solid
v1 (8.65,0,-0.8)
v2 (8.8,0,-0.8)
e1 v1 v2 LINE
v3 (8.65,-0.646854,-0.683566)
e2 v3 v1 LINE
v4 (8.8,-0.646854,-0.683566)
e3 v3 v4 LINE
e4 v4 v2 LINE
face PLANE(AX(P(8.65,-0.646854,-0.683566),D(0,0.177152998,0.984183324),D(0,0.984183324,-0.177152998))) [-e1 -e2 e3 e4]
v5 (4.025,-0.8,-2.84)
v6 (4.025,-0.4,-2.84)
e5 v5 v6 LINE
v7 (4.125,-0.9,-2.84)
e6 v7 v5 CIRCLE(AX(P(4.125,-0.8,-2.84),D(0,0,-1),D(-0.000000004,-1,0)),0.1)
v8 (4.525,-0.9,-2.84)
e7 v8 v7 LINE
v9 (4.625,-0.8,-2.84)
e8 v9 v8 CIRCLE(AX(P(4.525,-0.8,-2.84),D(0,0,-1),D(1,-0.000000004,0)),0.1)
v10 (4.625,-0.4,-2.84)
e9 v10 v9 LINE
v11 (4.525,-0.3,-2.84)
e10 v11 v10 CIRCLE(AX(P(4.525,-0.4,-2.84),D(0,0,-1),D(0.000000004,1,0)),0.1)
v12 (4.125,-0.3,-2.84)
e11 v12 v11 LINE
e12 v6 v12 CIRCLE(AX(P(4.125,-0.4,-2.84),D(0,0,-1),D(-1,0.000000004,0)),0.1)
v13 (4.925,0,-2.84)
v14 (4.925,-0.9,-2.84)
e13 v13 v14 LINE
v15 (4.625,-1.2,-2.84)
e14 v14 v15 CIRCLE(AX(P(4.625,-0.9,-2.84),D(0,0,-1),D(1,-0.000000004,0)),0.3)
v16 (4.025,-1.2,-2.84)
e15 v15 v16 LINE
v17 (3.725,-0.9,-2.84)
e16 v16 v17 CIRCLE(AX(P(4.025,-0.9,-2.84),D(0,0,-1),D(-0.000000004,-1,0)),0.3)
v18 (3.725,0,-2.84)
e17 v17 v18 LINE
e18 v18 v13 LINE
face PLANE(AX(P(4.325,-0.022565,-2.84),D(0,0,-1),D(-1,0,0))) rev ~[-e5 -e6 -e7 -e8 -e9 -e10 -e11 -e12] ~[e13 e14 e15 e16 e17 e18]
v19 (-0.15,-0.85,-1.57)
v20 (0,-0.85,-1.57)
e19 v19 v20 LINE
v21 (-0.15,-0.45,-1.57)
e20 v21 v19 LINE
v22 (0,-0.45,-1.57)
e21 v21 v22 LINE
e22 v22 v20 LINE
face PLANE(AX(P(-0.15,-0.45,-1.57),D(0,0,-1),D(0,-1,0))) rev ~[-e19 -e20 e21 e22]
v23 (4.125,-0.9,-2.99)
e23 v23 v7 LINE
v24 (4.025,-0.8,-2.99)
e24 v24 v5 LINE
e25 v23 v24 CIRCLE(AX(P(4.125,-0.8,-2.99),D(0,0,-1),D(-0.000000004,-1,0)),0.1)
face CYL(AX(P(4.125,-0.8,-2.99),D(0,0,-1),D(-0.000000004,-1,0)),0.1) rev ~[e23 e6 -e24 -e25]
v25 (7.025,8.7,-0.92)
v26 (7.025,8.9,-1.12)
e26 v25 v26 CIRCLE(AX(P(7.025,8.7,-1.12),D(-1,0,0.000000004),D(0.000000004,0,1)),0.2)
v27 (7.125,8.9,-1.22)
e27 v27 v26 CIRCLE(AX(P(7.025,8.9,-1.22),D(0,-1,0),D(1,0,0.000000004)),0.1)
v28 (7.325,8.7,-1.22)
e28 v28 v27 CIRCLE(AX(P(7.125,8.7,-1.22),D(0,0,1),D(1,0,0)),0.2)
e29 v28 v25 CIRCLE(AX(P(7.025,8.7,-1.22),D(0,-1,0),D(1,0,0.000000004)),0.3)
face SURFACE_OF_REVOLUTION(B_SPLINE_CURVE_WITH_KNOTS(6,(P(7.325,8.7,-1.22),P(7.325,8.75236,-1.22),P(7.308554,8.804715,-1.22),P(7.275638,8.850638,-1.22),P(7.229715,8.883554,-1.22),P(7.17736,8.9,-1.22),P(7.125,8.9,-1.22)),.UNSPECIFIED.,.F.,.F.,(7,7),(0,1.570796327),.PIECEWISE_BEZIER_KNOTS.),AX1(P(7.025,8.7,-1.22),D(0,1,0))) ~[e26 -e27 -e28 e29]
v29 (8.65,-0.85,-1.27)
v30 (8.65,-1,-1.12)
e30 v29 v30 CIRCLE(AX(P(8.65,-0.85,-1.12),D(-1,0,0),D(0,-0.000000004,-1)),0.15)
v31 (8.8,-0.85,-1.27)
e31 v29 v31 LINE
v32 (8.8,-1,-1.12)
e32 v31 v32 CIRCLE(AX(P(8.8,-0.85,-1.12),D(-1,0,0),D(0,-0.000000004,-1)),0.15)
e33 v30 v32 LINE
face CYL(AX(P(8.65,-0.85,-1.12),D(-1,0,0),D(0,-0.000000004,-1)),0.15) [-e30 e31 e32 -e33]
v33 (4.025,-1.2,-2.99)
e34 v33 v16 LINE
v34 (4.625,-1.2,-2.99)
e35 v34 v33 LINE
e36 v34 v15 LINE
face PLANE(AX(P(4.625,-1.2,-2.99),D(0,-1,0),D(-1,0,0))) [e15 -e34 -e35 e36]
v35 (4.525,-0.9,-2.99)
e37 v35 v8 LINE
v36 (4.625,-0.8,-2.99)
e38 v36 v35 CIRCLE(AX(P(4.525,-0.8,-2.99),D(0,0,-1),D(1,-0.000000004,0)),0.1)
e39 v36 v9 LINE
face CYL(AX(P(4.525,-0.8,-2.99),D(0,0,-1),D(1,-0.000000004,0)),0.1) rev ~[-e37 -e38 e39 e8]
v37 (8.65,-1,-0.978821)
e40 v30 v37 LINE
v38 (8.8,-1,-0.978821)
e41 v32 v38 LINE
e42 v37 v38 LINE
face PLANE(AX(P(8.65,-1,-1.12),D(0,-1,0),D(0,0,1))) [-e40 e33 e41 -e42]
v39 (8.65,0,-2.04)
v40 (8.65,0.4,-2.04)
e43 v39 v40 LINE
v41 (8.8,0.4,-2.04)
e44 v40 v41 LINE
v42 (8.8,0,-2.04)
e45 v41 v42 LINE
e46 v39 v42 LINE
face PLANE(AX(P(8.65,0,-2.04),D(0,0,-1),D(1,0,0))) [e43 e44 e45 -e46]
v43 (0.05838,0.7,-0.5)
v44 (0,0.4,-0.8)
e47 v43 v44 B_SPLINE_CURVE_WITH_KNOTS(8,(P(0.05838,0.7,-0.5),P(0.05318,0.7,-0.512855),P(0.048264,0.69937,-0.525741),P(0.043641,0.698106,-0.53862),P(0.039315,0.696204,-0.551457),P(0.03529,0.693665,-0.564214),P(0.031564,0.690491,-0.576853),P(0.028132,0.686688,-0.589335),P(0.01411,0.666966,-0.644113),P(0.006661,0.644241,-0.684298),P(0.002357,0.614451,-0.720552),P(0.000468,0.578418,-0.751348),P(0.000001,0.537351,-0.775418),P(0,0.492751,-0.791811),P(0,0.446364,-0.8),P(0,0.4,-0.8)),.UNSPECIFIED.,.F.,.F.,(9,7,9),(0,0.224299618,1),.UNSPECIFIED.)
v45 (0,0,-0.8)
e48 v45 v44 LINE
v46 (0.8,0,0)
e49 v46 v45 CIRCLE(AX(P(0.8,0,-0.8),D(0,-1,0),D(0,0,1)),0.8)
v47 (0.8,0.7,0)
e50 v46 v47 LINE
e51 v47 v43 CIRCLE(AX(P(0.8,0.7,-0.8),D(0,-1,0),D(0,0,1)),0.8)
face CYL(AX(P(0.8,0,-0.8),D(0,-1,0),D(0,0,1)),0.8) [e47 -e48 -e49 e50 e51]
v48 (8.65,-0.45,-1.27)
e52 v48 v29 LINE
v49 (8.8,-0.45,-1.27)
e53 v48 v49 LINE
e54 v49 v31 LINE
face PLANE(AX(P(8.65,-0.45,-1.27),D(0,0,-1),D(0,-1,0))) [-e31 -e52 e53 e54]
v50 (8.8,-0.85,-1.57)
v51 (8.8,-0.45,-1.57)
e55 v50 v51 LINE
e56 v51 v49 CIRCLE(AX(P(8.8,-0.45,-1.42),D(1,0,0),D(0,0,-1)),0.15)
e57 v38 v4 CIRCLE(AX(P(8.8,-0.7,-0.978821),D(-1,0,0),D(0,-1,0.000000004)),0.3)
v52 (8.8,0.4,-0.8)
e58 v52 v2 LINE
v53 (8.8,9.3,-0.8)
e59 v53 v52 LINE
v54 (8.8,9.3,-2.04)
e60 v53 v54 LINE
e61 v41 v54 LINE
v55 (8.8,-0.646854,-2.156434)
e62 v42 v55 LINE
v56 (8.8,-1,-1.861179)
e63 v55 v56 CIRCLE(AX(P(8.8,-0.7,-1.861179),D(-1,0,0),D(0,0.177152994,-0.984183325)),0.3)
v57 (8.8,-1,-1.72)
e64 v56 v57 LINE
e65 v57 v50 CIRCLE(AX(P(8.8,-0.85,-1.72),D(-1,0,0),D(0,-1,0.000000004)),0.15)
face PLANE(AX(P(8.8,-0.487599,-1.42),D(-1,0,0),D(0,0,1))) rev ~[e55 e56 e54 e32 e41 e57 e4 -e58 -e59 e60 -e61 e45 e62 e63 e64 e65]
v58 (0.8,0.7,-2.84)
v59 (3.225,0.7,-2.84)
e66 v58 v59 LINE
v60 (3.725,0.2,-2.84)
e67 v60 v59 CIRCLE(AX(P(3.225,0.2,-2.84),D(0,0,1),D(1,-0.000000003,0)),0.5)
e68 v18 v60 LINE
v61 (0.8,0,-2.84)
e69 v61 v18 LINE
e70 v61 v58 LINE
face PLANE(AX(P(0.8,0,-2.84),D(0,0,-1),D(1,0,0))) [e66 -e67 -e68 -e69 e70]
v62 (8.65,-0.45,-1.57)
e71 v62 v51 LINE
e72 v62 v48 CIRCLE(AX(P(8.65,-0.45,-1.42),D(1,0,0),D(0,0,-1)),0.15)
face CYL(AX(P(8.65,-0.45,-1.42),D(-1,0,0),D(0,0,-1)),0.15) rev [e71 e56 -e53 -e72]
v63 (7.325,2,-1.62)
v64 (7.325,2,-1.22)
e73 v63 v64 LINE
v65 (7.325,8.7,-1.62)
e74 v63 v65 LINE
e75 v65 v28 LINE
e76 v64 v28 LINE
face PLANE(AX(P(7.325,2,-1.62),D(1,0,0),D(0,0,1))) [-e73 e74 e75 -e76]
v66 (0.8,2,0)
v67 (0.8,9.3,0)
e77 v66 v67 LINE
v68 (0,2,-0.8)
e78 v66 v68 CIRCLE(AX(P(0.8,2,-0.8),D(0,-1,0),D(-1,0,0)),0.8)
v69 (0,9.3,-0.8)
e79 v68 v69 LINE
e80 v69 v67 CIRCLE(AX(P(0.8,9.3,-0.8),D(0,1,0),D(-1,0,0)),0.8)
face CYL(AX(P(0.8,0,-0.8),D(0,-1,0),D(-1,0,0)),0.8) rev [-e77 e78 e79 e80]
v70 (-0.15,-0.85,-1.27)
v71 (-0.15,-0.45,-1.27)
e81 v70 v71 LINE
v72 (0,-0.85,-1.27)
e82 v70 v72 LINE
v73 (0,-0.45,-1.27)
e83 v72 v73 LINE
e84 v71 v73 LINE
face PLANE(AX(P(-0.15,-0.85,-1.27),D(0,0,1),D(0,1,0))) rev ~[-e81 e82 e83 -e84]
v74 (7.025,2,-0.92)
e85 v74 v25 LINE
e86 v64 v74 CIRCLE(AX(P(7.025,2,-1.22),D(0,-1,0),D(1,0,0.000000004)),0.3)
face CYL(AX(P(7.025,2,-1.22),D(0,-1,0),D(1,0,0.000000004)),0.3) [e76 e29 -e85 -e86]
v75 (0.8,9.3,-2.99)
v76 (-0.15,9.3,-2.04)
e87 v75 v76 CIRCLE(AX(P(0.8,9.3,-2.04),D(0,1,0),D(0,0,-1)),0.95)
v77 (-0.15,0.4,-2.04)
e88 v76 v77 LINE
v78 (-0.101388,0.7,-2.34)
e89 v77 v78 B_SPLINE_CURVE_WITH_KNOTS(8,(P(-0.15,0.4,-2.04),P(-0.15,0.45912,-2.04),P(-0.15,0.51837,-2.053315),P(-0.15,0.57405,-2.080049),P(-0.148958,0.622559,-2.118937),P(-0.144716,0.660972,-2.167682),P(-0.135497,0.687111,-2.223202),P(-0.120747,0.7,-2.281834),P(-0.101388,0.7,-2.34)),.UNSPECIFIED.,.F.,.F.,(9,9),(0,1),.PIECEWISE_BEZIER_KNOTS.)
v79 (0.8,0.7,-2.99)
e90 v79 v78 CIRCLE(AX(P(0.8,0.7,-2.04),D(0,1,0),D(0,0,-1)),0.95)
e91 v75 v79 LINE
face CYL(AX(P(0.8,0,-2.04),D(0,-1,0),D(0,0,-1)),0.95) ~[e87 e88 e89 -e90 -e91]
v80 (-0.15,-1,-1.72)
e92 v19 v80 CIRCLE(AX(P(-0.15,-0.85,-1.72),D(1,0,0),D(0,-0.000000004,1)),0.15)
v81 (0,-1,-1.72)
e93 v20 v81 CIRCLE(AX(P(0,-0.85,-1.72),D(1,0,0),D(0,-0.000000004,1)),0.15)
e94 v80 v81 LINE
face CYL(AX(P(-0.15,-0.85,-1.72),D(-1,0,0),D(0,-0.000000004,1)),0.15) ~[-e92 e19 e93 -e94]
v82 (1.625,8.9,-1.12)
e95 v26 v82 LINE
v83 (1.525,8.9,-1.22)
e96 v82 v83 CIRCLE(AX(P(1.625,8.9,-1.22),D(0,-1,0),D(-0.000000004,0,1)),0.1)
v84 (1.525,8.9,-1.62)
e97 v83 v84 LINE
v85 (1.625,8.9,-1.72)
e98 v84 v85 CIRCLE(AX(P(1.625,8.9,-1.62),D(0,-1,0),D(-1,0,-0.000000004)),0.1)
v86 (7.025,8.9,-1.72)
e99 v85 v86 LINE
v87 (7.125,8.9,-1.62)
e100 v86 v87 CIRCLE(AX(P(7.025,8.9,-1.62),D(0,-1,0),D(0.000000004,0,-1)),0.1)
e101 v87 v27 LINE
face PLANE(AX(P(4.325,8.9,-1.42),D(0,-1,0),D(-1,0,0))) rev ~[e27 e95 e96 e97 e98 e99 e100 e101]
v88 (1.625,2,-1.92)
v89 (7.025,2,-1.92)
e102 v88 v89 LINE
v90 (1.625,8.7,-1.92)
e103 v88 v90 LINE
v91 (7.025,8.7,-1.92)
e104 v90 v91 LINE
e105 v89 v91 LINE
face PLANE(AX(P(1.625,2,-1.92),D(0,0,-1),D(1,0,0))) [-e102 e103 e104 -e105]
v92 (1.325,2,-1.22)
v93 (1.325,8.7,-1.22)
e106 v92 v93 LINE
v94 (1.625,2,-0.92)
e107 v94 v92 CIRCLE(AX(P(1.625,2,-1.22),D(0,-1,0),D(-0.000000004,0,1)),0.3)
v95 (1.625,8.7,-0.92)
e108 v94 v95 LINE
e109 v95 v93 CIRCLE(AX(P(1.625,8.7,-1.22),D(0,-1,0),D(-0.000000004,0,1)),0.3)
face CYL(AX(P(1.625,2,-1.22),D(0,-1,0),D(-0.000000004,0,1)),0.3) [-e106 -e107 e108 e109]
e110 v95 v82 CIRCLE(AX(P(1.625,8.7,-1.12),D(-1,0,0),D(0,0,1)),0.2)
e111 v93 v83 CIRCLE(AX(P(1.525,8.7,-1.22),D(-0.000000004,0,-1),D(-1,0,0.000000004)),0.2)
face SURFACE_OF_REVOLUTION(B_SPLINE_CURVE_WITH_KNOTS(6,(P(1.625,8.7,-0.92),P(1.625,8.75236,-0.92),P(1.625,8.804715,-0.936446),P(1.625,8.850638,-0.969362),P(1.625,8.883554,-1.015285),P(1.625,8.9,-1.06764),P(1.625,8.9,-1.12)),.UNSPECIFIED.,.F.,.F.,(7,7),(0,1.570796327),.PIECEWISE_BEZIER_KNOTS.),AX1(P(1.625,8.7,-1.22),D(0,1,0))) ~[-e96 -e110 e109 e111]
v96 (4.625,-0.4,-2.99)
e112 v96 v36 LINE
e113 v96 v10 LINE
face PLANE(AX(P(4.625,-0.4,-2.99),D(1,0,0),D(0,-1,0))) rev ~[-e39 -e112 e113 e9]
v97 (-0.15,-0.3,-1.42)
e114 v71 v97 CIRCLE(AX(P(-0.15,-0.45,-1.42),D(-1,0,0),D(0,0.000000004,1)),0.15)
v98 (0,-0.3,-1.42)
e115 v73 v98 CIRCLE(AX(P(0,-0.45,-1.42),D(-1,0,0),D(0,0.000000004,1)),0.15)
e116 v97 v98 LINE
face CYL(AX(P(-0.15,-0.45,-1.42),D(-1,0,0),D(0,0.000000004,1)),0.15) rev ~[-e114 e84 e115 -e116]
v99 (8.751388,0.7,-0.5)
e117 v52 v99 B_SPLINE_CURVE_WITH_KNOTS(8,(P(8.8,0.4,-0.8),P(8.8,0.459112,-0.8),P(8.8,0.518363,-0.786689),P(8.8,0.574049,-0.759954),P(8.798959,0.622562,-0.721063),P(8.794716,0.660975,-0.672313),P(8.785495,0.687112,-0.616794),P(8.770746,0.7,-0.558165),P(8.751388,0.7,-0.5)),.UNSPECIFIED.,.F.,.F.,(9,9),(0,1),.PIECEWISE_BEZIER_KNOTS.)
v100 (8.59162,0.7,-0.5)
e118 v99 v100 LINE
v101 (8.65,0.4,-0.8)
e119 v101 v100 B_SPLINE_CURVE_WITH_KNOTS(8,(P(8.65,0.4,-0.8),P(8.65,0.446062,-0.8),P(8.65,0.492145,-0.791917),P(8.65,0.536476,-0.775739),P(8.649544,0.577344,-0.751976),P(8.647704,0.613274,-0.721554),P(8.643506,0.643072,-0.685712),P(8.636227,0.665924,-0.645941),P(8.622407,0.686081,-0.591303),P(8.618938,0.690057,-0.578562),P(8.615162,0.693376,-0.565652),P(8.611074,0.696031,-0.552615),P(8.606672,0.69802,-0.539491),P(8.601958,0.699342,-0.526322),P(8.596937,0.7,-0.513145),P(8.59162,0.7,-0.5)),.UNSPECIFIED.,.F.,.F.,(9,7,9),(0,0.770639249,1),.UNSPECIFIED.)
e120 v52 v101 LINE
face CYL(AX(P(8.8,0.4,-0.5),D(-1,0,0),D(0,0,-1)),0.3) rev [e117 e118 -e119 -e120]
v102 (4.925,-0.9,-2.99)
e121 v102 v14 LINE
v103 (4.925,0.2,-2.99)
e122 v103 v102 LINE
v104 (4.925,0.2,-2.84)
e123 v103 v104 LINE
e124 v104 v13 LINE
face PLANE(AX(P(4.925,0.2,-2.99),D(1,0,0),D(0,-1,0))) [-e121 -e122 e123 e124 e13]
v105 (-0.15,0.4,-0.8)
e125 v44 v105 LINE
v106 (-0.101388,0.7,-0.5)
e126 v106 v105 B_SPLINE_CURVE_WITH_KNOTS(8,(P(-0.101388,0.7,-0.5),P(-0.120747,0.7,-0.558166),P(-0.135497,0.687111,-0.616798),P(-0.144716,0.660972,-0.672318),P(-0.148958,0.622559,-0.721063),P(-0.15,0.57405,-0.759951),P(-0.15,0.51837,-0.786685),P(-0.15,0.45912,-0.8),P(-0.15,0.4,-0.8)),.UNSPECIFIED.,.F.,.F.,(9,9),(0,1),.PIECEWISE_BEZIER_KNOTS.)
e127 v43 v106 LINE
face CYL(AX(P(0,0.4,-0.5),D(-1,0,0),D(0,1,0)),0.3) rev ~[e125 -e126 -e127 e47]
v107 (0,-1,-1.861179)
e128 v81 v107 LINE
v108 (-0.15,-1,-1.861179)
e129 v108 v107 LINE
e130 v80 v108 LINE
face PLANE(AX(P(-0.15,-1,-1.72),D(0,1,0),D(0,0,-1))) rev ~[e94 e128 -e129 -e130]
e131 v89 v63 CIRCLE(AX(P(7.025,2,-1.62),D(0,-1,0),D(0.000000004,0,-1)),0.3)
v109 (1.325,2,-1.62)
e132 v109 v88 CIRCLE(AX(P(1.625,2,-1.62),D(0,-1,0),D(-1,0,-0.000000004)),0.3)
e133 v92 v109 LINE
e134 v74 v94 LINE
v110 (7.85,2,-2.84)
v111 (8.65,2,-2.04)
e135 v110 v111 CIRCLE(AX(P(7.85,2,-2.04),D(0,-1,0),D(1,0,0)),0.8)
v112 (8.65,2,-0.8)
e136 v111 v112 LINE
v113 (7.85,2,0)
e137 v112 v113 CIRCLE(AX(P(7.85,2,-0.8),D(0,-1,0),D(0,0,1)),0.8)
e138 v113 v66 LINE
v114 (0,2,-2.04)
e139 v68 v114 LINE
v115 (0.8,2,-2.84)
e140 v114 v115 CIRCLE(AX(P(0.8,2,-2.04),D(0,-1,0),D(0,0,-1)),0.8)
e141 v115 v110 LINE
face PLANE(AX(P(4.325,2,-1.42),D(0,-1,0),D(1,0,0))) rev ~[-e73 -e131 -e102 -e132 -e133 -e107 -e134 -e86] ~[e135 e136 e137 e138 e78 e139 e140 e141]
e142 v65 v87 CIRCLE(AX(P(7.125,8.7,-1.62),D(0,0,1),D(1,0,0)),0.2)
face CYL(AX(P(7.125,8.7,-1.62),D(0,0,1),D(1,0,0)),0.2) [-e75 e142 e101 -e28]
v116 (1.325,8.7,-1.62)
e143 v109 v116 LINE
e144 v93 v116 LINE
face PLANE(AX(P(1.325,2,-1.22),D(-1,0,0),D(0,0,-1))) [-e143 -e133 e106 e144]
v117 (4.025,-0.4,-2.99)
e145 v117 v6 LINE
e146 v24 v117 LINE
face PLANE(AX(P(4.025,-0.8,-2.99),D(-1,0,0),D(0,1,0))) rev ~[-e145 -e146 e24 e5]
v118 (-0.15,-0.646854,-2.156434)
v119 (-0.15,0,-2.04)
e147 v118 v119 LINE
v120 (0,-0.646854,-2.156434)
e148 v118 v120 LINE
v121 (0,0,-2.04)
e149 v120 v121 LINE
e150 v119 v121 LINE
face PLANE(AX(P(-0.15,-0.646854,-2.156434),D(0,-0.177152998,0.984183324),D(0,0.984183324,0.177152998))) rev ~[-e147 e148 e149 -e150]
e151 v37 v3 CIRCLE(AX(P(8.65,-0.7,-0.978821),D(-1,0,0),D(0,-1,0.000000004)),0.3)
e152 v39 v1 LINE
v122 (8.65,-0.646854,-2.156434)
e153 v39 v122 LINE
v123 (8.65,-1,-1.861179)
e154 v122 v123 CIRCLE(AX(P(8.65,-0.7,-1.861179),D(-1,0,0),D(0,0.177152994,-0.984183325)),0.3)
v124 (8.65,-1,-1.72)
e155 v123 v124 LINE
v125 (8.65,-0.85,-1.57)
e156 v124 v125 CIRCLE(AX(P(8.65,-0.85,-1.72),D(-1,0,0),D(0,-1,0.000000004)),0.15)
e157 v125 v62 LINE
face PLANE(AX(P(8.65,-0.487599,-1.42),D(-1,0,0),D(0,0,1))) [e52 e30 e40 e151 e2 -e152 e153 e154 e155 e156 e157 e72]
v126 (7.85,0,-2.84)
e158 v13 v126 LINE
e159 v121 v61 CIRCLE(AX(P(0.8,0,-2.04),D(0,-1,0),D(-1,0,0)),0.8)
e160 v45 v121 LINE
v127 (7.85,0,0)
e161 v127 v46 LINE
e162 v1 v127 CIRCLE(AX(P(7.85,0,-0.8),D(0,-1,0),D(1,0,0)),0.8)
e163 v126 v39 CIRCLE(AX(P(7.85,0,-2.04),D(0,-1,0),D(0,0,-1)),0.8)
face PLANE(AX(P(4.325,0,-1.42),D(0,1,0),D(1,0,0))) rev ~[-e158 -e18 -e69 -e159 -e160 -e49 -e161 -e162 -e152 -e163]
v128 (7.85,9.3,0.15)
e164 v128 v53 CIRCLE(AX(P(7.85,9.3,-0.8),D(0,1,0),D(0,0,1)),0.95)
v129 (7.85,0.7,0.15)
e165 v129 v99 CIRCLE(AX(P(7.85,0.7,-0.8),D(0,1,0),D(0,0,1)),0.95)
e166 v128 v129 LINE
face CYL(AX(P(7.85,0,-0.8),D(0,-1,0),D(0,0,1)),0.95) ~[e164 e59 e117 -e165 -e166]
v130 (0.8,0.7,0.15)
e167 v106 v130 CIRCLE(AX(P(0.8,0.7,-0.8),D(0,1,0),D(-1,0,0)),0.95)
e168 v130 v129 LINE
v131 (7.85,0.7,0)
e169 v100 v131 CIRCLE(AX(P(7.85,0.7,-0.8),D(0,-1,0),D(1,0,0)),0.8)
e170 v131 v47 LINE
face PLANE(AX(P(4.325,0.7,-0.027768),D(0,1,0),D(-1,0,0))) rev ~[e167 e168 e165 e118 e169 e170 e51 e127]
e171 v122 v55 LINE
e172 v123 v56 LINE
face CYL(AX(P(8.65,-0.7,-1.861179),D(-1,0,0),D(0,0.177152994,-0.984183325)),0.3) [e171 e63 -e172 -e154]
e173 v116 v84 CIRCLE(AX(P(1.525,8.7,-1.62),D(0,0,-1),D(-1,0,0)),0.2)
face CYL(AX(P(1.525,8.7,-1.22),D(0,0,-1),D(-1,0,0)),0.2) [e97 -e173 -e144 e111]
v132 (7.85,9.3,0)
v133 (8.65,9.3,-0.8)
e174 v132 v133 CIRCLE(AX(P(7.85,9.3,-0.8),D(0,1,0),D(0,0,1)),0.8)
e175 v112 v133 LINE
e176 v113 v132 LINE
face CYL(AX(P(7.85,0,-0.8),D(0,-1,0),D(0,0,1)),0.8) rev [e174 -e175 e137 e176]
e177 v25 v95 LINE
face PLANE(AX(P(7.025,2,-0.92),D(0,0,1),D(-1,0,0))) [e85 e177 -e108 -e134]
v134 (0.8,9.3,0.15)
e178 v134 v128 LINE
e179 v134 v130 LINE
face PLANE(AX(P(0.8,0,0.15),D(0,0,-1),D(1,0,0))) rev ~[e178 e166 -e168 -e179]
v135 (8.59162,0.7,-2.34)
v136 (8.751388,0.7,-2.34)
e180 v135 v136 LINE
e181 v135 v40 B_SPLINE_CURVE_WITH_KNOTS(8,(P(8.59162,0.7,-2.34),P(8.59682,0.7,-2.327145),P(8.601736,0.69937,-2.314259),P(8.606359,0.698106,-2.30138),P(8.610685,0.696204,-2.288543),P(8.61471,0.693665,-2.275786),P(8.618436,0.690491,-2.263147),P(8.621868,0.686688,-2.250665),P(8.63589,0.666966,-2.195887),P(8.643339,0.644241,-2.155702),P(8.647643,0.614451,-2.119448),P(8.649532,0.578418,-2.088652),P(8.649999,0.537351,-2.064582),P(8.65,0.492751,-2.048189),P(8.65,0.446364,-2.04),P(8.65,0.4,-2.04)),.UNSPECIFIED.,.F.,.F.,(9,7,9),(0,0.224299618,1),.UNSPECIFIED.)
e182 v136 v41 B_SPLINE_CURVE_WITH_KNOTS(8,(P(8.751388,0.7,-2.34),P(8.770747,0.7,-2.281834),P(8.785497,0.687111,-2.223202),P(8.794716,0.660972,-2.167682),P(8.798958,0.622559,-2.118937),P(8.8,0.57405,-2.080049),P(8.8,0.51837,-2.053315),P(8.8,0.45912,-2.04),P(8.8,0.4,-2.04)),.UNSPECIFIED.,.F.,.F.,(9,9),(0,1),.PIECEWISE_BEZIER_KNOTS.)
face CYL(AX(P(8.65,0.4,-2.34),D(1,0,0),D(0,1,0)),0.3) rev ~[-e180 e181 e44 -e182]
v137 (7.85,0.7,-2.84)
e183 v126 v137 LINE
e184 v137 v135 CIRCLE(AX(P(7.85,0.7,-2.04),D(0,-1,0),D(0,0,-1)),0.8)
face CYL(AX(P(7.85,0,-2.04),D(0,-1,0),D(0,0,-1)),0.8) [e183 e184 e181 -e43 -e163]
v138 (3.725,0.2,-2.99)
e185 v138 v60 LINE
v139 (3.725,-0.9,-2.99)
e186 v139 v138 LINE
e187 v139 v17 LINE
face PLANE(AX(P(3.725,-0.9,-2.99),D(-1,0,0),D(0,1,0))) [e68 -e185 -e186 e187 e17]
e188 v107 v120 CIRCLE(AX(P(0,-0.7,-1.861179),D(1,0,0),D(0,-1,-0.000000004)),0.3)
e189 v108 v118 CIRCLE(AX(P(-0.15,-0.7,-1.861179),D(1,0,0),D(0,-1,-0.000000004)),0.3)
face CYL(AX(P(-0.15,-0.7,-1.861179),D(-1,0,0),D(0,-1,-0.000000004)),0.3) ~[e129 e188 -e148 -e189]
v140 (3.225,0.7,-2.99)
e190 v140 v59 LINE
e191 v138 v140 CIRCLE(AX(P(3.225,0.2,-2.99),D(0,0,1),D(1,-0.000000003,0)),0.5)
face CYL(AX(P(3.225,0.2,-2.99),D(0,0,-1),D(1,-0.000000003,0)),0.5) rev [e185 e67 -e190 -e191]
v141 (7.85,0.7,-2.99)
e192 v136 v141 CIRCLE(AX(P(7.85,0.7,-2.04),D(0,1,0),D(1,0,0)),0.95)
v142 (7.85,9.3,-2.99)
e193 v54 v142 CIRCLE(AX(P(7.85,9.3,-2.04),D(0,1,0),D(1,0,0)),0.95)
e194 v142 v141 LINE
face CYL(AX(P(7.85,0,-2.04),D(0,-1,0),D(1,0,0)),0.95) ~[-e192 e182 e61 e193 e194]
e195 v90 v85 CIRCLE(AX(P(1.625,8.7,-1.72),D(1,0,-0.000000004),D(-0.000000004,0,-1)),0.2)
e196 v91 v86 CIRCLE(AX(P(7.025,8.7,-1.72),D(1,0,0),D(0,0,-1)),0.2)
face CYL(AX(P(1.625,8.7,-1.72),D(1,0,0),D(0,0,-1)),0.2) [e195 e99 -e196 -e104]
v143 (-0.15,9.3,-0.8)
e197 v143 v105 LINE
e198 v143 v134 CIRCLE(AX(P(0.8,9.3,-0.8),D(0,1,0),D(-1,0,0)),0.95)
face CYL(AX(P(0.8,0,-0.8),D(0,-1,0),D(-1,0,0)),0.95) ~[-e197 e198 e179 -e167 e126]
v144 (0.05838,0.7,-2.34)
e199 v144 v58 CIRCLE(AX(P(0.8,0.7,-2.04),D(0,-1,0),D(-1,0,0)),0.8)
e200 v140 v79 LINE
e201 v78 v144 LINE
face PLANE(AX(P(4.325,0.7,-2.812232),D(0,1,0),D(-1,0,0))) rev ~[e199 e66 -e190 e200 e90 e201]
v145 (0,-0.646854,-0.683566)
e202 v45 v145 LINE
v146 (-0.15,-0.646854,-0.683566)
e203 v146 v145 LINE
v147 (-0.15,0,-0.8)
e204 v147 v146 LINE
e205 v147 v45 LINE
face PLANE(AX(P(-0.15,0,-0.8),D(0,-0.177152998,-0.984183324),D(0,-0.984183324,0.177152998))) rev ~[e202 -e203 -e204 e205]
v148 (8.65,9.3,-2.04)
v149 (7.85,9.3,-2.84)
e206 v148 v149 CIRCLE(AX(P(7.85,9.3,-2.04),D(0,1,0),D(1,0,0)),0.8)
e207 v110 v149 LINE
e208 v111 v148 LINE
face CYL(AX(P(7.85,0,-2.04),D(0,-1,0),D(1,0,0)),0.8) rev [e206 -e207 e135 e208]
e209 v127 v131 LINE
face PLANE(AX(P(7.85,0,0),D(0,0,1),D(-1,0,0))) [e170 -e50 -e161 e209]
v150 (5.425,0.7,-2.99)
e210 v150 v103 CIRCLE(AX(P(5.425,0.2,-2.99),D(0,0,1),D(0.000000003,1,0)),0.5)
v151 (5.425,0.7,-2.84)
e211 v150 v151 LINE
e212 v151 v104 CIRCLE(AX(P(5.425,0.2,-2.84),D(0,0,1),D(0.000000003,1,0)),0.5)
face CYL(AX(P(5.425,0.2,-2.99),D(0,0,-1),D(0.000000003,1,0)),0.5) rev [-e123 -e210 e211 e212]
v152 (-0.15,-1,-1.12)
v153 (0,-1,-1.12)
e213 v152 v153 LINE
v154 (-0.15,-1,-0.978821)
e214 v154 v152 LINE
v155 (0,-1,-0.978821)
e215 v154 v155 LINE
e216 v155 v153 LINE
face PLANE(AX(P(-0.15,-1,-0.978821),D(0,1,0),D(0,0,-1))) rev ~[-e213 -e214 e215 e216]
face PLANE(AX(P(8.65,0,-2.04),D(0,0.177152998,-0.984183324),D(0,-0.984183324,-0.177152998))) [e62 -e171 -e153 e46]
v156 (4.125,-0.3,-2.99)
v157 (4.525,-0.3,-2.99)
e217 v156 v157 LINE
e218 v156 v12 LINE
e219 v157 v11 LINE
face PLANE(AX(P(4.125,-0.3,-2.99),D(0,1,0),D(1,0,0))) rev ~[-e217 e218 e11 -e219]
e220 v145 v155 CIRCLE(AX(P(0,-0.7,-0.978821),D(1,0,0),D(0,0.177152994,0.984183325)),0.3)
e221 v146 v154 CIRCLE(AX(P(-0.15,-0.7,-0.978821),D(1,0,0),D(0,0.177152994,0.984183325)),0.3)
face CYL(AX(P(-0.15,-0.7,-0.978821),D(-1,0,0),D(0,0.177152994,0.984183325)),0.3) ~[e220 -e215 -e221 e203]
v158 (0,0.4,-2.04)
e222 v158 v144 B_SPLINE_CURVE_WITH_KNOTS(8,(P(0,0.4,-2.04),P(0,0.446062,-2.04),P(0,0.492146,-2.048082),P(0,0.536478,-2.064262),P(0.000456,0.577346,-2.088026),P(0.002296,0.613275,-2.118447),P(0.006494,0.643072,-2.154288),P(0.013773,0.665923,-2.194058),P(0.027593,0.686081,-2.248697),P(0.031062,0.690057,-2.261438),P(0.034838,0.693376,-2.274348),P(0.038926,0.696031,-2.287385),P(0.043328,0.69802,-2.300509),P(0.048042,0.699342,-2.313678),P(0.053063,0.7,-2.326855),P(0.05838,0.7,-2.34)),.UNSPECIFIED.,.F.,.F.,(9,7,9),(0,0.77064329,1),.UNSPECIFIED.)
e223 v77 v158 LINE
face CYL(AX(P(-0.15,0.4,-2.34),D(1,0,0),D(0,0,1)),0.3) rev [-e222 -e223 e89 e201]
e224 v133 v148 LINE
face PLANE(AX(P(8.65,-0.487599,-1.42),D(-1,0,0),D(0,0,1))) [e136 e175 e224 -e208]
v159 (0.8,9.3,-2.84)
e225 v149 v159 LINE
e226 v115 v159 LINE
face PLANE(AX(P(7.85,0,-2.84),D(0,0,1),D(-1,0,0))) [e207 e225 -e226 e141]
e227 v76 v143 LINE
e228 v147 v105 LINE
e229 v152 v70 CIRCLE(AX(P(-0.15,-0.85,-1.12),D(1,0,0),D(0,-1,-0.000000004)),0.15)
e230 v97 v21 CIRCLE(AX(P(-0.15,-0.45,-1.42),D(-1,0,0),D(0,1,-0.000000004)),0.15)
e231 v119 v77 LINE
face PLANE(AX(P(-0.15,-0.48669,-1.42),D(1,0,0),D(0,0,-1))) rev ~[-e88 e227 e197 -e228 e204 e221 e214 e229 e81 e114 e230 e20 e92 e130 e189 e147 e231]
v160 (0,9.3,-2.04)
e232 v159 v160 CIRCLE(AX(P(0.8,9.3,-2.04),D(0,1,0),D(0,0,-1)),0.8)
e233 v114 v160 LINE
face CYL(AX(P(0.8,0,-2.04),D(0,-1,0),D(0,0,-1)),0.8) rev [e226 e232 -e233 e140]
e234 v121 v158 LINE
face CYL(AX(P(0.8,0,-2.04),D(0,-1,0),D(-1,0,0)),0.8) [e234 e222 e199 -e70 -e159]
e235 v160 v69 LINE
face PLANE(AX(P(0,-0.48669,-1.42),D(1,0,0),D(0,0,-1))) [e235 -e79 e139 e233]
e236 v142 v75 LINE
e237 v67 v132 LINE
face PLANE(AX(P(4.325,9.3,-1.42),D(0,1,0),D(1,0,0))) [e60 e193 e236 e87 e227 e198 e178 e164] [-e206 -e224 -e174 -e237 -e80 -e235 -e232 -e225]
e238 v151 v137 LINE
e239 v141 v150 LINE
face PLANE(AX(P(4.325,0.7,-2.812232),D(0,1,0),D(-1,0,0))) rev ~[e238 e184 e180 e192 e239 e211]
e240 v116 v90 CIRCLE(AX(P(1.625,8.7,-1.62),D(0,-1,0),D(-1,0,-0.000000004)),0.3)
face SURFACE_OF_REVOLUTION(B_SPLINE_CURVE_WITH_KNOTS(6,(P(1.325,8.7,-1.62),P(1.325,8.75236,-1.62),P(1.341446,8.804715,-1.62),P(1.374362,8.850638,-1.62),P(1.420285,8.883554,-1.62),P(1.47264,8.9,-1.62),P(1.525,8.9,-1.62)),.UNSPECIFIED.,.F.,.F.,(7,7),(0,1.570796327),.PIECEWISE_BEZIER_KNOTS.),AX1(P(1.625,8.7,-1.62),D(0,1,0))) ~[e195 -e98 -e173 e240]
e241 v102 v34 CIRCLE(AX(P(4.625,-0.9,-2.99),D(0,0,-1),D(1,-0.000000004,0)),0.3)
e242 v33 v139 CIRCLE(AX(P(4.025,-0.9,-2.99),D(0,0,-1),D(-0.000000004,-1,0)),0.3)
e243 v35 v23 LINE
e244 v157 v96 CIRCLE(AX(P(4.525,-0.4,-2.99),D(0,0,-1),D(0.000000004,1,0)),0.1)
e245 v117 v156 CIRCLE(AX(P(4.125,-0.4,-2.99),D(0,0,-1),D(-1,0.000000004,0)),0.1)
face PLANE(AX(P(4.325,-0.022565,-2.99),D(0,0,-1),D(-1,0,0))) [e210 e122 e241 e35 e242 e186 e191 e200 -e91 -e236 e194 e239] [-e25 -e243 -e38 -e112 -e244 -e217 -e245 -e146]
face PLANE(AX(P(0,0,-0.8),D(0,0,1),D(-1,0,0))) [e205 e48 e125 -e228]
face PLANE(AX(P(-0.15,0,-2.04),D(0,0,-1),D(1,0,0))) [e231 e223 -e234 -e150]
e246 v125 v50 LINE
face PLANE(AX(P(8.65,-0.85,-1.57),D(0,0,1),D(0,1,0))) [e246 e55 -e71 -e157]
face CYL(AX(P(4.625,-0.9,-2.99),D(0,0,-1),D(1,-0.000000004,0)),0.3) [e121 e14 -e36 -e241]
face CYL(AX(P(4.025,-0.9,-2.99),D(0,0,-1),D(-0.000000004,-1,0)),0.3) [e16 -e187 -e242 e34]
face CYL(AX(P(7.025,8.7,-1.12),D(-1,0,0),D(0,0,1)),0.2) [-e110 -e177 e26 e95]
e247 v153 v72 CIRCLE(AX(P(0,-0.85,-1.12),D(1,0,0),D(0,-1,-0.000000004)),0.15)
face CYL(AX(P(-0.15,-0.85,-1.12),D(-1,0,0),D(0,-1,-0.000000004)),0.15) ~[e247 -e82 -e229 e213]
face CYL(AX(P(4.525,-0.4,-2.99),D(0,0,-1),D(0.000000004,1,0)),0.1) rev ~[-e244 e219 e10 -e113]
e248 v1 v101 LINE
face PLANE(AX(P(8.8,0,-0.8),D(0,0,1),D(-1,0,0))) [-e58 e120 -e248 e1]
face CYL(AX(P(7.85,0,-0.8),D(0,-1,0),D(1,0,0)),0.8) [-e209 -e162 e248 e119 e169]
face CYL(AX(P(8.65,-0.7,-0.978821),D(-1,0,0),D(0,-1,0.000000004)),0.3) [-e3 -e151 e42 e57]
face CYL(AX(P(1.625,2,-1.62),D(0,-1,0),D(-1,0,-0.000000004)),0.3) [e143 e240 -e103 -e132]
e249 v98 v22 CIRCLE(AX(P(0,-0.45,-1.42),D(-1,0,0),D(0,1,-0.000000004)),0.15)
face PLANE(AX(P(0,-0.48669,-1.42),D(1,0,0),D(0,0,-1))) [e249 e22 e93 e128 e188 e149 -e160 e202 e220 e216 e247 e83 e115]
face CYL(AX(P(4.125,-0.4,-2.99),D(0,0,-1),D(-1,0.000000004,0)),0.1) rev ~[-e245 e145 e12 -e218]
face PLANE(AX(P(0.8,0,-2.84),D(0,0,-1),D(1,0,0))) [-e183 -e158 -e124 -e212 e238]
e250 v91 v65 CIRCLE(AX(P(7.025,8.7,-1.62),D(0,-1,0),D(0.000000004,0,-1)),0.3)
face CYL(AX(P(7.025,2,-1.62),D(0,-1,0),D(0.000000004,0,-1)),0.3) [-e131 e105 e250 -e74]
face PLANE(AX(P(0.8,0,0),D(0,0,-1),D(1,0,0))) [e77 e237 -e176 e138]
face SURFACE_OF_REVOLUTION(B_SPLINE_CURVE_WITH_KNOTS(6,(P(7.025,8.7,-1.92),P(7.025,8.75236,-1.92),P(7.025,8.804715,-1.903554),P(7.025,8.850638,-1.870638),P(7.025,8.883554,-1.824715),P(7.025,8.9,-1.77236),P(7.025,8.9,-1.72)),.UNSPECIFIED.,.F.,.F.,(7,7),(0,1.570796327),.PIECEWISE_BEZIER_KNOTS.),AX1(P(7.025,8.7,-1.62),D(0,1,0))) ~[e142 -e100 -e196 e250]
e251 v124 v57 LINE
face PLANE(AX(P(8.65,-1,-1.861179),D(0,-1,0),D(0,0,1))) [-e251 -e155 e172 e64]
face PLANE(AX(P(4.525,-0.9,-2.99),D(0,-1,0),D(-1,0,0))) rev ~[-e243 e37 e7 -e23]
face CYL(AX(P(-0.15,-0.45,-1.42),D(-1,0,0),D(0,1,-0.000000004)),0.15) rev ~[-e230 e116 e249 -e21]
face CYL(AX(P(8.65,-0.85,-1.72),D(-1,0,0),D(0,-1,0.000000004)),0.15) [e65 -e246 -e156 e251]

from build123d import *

# Parameters (mm, degrees)
EXTRUDE_1_DEPTH     = 9.3
EXTRUDE_2_DEPTH     = 0.15
EXTRUDE_START       = -0.15
EXTRUDE_3_DEPTH     = 0.15
EXTRUDE_4_DEPTH     = 2
CUT_EXTRUDE_1_DEPTH = 0.7
FILLET_1_R          = 0.3
EXTRUDE_5_DEPTH     = 0.15
CUT_EXTRUDE_2_DEPTH = 0.15
EXTRUDE_6_DEPTH     = 6.9
FILLET_2_R          = 0.2


with BuildPart() as part:
    # 草图1 → 凸台-拉伸1 (new body)
    with BuildSketch(Plane(origin=(0, 0, 0), x_dir=(1, 0, 0), z_dir=(0, 1, 0))):
        with BuildLine():
            Line((0.8, -0.15), (7.85, -0.15))
            ThreePointArc((7.85, -0.15), (8.521751442, 0.128248558), (8.8, 0.8))
            Line((8.8, 0.8), (8.8, 2.04))
            ThreePointArc((8.8, 2.04), (8.521751442, 2.711751442), (7.85, 2.99))
            Line((7.85, 2.99), (0.8, 2.99))
            ThreePointArc((0.8, 2.99), (0.128248558, 2.711751442), (-0.15, 2.04))
            Line((-0.15, 2.04), (-0.15, 0.8))
            ThreePointArc((-0.15, 0.8), (0.128248558, 0.128248558), (0.8, -0.15))
        make_face()
        with BuildLine():
            Line((0.8, 0), (7.85, 0))
            ThreePointArc((7.85, 0), (8.415685425, 0.234314575), (8.65, 0.8))
            Line((8.65, 0.8), (8.65, 2.04))
            ThreePointArc((8.65, 2.04), (8.415685425, 2.605685425), (7.85, 2.84))
            Line((7.85, 2.84), (0.8, 2.84))
            ThreePointArc((0.8, 2.84), (0.234314575, 2.605685425), (0, 2.04))
            Line((0, 2.04), (0, 0.8))
            ThreePointArc((0, 0.8), (0.234314575, 0.234314575), (0.8, 0))
        make_face(mode=Mode.SUBTRACT)
    extrude(amount=EXTRUDE_1_DEPTH)

    # 草图3 → 凸台-拉伸2 (add)
    with BuildSketch(Plane.ZY.offset(0.15)):
        with BuildLine():
            Line((-2.04, 0), (-0.8, 0))
            Line((-0.8, 0), (-0.683566262, -0.646854101))
            ThreePointArc((-0.683566262, -0.646854101), (-0.748665041, -0.892426908), (-0.978821259, -1))
            Line((-0.978821259, -1), (-1.12, -1))
            ThreePointArc((-1.12, -1), (-1.226066017, -0.956066017), (-1.27, -0.85))
            Line((-1.27, -0.85), (-1.27, -0.45))
            ThreePointArc((-1.27, -0.45), (-1.313933983, -0.343933983), (-1.42, -0.3))
            ThreePointArc((-1.42, -0.3), (-1.526066017, -0.343933983), (-1.57, -0.45))
            Line((-1.57, -0.45), (-1.57, -0.85))
            ThreePointArc((-1.57, -0.85), (-1.613933983, -0.956066017), (-1.72, -1))
            Line((-1.72, -1), (-1.861178741, -1))
            ThreePointArc((-1.861178741, -1), (-2.091334959, -0.892426908), (-2.156433738, -0.646854101))
            Line((-2.156433738, -0.646854101), (-2.04, 0))
        make_face()
    extrude(amount=-EXTRUDE_2_DEPTH)

    # 草图4 → 凸台-拉伸3 (add)
    with BuildSketch(Plane(origin=(8.8, 0, 0), x_dir=(0, 0, -1), z_dir=(1, 0, 0)).offset(EXTRUDE_START)):
        with BuildLine():
            Line((0.8, 0), (2.04, 0))
            Line((2.04, 0), (2.156433738, -0.646854101))
            ThreePointArc((2.156433738, -0.646854101), (2.091334959, -0.892426908), (1.861178741, -1))
            Line((1.861178741, -1), (1.72, -1))
            ThreePointArc((1.72, -1), (1.613933983, -0.956066017), (1.57, -0.85))
            Line((1.57, -0.85), (1.57, -0.45))
            ThreePointArc((1.57, -0.45), (1.42, -0.3), (1.27, -0.45))
            Line((1.27, -0.45), (1.27, -0.85))
            ThreePointArc((1.27, -0.85), (1.226066017, -0.956066017), (1.12, -1))
            Line((1.12, -1), (0.978821259, -1))
            ThreePointArc((0.978821259, -1), (0.748665041, -0.892426908), (0.683566262, -0.646854101))
            Line((0.683566262, -0.646854101), (0.8, 0))
        make_face()
    extrude(amount=EXTRUDE_3_DEPTH)

    # 草图5 → 凸台-拉伸4 (add)
    with BuildSketch(Plane.XZ):
        with BuildLine():
            Line((0.8, -2.99), (7.85, -2.99))
            ThreePointArc((7.85, -2.99), (8.521751442, -2.711751442), (8.8, -2.04))
            Line((8.8, -2.04), (8.8, -0.8))
            ThreePointArc((8.8, -0.8), (8.521751442, -0.128248558), (7.85, 0.15))
            Line((7.85, 0.15), (0.8, 0.15))
            ThreePointArc((0.8, 0.15), (0.128248558, -0.128248558), (-0.15, -0.8))
            Line((-0.15, -0.8), (-0.15, -2.04))
            ThreePointArc((-0.15, -2.04), (0.128248558, -2.711751442), (0.8, -2.99))
        make_face()
    extrude(amount=-EXTRUDE_4_DEPTH)

    # 草图6 → 切除-拉伸1 (cut)
    with BuildSketch(Plane.XZ):
        with BuildLine():
            Line((0.8, 0.15), (7.85, 0.15))
            ThreePointArc((7.85, 0.15), (8.521751442, -0.128248558), (8.8, -0.8))
            Line((8.8, -0.8), (8.65, -0.8))
            ThreePointArc((8.65, -0.8), (8.415685425, -0.234314575), (7.85, 0))
            Line((7.85, 0), (0.8, 0))
            ThreePointArc((0.8, 0), (0.234314575, -0.234314575), (0, -0.8))
            Line((0, -0.8), (-0.15, -0.8))
            ThreePointArc((-0.15, -0.8), (0.128248558, -0.128248558), (0.8, 0.15))
        make_face()
        with BuildLine():
            Line((7.85, -2.99), (0.8, -2.99))
            ThreePointArc((0.8, -2.99), (0.128248558, -2.711751442), (-0.15, -2.04))
            Line((-0.15, -2.04), (0, -2.04))
            ThreePointArc((0, -2.04), (0.234314575, -2.605685425), (0.8, -2.84))
            Line((0.8, -2.84), (7.85, -2.84))
            ThreePointArc((7.85, -2.84), (8.415685425, -2.605685425), (8.65, -2.04))
            Line((8.65, -2.04), (8.8, -2.04))
            ThreePointArc((8.8, -2.04), (8.521751442, -2.711751442), (7.85, -2.99))
        make_face()
    extrude(amount=-CUT_EXTRUDE_1_DEPTH, mode=Mode.SUBTRACT)

    # 圆角1
    fillet_1_edges = [part.edges().sort_by_distance(p)[0] for p in [
        (8.725, 0.7, -0.8),
        (-0.075, 0.7, -0.8),
        (-0.075, 0.7, -2.04),
        (8.725, 0.7, -2.04),
    ]]
    fillet(fillet_1_edges, radius=FILLET_1_R)

    # 草图7 → 凸台-拉伸5 (add)
    with BuildSketch(Plane(origin=(0, 0, -2.99), x_dir=(-1, 0, 0), z_dir=(0, 0, -1))):
        with BuildLine():
            Line((-3.225, 0.7), (-5.425, 0.7))
            ThreePointArc((-5.425, 0.7), (-5.071446609, 0.553553391), (-4.925, 0.2))
            Line((-4.925, 0.2), (-4.925, -0.9))
            ThreePointArc((-4.925, -0.9), (-4.837132034, -1.112132034), (-4.625, -1.2))
            Line((-4.625, -1.2), (-4.325, -1.2))
            Line((-4.325, -1.2), (-4.025, -1.2))
            ThreePointArc((-4.025, -1.2), (-3.812867966, -1.112132034), (-3.725, -0.9))
            Line((-3.725, -0.9), (-3.725, 0.2))
            ThreePointArc((-3.725, 0.2), (-3.578553391, 0.553553391), (-3.225, 0.7))
        make_face()
    extrude(amount=-EXTRUDE_5_DEPTH)

    # 草图8 → 切除-拉伸2 (cut)
    with BuildSketch(Plane(origin=(0, 0, -2.99), x_dir=(-1, 0, 0), z_dir=(0, 0, -1))):
        with BuildLine():
            Line((-4.325, -0.9), (-4.125, -0.9))
            ThreePointArc((-4.125, -0.9), (-4.054289322, -0.870710678), (-4.025, -0.8))
            Line((-4.025, -0.8), (-4.025, -0.4))
            ThreePointArc((-4.025, -0.4), (-4.054289322, -0.329289322), (-4.125, -0.3))
            Line((-4.125, -0.3), (-4.525, -0.3))
            ThreePointArc((-4.525, -0.3), (-4.595710678, -0.329289322), (-4.625, -0.4))
            Line((-4.625, -0.4), (-4.625, -0.8))
            ThreePointArc((-4.625, -0.8), (-4.595710678, -0.870710678), (-4.525, -0.9))
            Line((-4.525, -0.9), (-4.325, -0.9))
        make_face()
    extrude(amount=-CUT_EXTRUDE_2_DEPTH, mode=Mode.SUBTRACT)

    # 草图9 → 凸台-拉伸6 (add)
    with BuildSketch(Plane(origin=(0, 2, 0), x_dir=(1, 0, 0), z_dir=(0, 1, 0))):
        with BuildLine():
            Line((1.325, 1.42), (1.325, 1.62))
            ThreePointArc((1.325, 1.62), (1.412867966, 1.832132034), (1.625, 1.92))
            Line((1.625, 1.92), (7.025, 1.92))
            ThreePointArc((7.025, 1.92), (7.237132034, 1.832132034), (7.325, 1.62))
            Line((7.325, 1.62), (7.325, 1.22))
            ThreePointArc((7.325, 1.22), (7.237132034, 1.007867966), (7.025, 0.92))
            Line((7.025, 0.92), (1.625, 0.92))
            ThreePointArc((1.625, 0.92), (1.412867966, 1.007867966), (1.325, 1.22))
            Line((1.325, 1.22), (1.325, 1.42))
        make_face()
    extrude(amount=EXTRUDE_6_DEPTH)

    # 圆角2
    fillet_2_edges = [part.edges().sort_by_distance(p)[0] for p in [
        (7.325, 8.9, -1.42),
        (7.237132034, 8.9, -1.007867966),
        (4.325, 8.9, -0.92),
        (1.412867966, 8.9, -1.007867966),
        (1.325, 8.9, -1.42),
        (1.412867966, 8.9, -1.832132034),
        (4.325, 8.9, -1.92),
        (7.237132034, 8.9, -1.832132034),
    ]]
    fillet(fillet_2_edges, radius=FILLET_2_R)


solid = part.part
